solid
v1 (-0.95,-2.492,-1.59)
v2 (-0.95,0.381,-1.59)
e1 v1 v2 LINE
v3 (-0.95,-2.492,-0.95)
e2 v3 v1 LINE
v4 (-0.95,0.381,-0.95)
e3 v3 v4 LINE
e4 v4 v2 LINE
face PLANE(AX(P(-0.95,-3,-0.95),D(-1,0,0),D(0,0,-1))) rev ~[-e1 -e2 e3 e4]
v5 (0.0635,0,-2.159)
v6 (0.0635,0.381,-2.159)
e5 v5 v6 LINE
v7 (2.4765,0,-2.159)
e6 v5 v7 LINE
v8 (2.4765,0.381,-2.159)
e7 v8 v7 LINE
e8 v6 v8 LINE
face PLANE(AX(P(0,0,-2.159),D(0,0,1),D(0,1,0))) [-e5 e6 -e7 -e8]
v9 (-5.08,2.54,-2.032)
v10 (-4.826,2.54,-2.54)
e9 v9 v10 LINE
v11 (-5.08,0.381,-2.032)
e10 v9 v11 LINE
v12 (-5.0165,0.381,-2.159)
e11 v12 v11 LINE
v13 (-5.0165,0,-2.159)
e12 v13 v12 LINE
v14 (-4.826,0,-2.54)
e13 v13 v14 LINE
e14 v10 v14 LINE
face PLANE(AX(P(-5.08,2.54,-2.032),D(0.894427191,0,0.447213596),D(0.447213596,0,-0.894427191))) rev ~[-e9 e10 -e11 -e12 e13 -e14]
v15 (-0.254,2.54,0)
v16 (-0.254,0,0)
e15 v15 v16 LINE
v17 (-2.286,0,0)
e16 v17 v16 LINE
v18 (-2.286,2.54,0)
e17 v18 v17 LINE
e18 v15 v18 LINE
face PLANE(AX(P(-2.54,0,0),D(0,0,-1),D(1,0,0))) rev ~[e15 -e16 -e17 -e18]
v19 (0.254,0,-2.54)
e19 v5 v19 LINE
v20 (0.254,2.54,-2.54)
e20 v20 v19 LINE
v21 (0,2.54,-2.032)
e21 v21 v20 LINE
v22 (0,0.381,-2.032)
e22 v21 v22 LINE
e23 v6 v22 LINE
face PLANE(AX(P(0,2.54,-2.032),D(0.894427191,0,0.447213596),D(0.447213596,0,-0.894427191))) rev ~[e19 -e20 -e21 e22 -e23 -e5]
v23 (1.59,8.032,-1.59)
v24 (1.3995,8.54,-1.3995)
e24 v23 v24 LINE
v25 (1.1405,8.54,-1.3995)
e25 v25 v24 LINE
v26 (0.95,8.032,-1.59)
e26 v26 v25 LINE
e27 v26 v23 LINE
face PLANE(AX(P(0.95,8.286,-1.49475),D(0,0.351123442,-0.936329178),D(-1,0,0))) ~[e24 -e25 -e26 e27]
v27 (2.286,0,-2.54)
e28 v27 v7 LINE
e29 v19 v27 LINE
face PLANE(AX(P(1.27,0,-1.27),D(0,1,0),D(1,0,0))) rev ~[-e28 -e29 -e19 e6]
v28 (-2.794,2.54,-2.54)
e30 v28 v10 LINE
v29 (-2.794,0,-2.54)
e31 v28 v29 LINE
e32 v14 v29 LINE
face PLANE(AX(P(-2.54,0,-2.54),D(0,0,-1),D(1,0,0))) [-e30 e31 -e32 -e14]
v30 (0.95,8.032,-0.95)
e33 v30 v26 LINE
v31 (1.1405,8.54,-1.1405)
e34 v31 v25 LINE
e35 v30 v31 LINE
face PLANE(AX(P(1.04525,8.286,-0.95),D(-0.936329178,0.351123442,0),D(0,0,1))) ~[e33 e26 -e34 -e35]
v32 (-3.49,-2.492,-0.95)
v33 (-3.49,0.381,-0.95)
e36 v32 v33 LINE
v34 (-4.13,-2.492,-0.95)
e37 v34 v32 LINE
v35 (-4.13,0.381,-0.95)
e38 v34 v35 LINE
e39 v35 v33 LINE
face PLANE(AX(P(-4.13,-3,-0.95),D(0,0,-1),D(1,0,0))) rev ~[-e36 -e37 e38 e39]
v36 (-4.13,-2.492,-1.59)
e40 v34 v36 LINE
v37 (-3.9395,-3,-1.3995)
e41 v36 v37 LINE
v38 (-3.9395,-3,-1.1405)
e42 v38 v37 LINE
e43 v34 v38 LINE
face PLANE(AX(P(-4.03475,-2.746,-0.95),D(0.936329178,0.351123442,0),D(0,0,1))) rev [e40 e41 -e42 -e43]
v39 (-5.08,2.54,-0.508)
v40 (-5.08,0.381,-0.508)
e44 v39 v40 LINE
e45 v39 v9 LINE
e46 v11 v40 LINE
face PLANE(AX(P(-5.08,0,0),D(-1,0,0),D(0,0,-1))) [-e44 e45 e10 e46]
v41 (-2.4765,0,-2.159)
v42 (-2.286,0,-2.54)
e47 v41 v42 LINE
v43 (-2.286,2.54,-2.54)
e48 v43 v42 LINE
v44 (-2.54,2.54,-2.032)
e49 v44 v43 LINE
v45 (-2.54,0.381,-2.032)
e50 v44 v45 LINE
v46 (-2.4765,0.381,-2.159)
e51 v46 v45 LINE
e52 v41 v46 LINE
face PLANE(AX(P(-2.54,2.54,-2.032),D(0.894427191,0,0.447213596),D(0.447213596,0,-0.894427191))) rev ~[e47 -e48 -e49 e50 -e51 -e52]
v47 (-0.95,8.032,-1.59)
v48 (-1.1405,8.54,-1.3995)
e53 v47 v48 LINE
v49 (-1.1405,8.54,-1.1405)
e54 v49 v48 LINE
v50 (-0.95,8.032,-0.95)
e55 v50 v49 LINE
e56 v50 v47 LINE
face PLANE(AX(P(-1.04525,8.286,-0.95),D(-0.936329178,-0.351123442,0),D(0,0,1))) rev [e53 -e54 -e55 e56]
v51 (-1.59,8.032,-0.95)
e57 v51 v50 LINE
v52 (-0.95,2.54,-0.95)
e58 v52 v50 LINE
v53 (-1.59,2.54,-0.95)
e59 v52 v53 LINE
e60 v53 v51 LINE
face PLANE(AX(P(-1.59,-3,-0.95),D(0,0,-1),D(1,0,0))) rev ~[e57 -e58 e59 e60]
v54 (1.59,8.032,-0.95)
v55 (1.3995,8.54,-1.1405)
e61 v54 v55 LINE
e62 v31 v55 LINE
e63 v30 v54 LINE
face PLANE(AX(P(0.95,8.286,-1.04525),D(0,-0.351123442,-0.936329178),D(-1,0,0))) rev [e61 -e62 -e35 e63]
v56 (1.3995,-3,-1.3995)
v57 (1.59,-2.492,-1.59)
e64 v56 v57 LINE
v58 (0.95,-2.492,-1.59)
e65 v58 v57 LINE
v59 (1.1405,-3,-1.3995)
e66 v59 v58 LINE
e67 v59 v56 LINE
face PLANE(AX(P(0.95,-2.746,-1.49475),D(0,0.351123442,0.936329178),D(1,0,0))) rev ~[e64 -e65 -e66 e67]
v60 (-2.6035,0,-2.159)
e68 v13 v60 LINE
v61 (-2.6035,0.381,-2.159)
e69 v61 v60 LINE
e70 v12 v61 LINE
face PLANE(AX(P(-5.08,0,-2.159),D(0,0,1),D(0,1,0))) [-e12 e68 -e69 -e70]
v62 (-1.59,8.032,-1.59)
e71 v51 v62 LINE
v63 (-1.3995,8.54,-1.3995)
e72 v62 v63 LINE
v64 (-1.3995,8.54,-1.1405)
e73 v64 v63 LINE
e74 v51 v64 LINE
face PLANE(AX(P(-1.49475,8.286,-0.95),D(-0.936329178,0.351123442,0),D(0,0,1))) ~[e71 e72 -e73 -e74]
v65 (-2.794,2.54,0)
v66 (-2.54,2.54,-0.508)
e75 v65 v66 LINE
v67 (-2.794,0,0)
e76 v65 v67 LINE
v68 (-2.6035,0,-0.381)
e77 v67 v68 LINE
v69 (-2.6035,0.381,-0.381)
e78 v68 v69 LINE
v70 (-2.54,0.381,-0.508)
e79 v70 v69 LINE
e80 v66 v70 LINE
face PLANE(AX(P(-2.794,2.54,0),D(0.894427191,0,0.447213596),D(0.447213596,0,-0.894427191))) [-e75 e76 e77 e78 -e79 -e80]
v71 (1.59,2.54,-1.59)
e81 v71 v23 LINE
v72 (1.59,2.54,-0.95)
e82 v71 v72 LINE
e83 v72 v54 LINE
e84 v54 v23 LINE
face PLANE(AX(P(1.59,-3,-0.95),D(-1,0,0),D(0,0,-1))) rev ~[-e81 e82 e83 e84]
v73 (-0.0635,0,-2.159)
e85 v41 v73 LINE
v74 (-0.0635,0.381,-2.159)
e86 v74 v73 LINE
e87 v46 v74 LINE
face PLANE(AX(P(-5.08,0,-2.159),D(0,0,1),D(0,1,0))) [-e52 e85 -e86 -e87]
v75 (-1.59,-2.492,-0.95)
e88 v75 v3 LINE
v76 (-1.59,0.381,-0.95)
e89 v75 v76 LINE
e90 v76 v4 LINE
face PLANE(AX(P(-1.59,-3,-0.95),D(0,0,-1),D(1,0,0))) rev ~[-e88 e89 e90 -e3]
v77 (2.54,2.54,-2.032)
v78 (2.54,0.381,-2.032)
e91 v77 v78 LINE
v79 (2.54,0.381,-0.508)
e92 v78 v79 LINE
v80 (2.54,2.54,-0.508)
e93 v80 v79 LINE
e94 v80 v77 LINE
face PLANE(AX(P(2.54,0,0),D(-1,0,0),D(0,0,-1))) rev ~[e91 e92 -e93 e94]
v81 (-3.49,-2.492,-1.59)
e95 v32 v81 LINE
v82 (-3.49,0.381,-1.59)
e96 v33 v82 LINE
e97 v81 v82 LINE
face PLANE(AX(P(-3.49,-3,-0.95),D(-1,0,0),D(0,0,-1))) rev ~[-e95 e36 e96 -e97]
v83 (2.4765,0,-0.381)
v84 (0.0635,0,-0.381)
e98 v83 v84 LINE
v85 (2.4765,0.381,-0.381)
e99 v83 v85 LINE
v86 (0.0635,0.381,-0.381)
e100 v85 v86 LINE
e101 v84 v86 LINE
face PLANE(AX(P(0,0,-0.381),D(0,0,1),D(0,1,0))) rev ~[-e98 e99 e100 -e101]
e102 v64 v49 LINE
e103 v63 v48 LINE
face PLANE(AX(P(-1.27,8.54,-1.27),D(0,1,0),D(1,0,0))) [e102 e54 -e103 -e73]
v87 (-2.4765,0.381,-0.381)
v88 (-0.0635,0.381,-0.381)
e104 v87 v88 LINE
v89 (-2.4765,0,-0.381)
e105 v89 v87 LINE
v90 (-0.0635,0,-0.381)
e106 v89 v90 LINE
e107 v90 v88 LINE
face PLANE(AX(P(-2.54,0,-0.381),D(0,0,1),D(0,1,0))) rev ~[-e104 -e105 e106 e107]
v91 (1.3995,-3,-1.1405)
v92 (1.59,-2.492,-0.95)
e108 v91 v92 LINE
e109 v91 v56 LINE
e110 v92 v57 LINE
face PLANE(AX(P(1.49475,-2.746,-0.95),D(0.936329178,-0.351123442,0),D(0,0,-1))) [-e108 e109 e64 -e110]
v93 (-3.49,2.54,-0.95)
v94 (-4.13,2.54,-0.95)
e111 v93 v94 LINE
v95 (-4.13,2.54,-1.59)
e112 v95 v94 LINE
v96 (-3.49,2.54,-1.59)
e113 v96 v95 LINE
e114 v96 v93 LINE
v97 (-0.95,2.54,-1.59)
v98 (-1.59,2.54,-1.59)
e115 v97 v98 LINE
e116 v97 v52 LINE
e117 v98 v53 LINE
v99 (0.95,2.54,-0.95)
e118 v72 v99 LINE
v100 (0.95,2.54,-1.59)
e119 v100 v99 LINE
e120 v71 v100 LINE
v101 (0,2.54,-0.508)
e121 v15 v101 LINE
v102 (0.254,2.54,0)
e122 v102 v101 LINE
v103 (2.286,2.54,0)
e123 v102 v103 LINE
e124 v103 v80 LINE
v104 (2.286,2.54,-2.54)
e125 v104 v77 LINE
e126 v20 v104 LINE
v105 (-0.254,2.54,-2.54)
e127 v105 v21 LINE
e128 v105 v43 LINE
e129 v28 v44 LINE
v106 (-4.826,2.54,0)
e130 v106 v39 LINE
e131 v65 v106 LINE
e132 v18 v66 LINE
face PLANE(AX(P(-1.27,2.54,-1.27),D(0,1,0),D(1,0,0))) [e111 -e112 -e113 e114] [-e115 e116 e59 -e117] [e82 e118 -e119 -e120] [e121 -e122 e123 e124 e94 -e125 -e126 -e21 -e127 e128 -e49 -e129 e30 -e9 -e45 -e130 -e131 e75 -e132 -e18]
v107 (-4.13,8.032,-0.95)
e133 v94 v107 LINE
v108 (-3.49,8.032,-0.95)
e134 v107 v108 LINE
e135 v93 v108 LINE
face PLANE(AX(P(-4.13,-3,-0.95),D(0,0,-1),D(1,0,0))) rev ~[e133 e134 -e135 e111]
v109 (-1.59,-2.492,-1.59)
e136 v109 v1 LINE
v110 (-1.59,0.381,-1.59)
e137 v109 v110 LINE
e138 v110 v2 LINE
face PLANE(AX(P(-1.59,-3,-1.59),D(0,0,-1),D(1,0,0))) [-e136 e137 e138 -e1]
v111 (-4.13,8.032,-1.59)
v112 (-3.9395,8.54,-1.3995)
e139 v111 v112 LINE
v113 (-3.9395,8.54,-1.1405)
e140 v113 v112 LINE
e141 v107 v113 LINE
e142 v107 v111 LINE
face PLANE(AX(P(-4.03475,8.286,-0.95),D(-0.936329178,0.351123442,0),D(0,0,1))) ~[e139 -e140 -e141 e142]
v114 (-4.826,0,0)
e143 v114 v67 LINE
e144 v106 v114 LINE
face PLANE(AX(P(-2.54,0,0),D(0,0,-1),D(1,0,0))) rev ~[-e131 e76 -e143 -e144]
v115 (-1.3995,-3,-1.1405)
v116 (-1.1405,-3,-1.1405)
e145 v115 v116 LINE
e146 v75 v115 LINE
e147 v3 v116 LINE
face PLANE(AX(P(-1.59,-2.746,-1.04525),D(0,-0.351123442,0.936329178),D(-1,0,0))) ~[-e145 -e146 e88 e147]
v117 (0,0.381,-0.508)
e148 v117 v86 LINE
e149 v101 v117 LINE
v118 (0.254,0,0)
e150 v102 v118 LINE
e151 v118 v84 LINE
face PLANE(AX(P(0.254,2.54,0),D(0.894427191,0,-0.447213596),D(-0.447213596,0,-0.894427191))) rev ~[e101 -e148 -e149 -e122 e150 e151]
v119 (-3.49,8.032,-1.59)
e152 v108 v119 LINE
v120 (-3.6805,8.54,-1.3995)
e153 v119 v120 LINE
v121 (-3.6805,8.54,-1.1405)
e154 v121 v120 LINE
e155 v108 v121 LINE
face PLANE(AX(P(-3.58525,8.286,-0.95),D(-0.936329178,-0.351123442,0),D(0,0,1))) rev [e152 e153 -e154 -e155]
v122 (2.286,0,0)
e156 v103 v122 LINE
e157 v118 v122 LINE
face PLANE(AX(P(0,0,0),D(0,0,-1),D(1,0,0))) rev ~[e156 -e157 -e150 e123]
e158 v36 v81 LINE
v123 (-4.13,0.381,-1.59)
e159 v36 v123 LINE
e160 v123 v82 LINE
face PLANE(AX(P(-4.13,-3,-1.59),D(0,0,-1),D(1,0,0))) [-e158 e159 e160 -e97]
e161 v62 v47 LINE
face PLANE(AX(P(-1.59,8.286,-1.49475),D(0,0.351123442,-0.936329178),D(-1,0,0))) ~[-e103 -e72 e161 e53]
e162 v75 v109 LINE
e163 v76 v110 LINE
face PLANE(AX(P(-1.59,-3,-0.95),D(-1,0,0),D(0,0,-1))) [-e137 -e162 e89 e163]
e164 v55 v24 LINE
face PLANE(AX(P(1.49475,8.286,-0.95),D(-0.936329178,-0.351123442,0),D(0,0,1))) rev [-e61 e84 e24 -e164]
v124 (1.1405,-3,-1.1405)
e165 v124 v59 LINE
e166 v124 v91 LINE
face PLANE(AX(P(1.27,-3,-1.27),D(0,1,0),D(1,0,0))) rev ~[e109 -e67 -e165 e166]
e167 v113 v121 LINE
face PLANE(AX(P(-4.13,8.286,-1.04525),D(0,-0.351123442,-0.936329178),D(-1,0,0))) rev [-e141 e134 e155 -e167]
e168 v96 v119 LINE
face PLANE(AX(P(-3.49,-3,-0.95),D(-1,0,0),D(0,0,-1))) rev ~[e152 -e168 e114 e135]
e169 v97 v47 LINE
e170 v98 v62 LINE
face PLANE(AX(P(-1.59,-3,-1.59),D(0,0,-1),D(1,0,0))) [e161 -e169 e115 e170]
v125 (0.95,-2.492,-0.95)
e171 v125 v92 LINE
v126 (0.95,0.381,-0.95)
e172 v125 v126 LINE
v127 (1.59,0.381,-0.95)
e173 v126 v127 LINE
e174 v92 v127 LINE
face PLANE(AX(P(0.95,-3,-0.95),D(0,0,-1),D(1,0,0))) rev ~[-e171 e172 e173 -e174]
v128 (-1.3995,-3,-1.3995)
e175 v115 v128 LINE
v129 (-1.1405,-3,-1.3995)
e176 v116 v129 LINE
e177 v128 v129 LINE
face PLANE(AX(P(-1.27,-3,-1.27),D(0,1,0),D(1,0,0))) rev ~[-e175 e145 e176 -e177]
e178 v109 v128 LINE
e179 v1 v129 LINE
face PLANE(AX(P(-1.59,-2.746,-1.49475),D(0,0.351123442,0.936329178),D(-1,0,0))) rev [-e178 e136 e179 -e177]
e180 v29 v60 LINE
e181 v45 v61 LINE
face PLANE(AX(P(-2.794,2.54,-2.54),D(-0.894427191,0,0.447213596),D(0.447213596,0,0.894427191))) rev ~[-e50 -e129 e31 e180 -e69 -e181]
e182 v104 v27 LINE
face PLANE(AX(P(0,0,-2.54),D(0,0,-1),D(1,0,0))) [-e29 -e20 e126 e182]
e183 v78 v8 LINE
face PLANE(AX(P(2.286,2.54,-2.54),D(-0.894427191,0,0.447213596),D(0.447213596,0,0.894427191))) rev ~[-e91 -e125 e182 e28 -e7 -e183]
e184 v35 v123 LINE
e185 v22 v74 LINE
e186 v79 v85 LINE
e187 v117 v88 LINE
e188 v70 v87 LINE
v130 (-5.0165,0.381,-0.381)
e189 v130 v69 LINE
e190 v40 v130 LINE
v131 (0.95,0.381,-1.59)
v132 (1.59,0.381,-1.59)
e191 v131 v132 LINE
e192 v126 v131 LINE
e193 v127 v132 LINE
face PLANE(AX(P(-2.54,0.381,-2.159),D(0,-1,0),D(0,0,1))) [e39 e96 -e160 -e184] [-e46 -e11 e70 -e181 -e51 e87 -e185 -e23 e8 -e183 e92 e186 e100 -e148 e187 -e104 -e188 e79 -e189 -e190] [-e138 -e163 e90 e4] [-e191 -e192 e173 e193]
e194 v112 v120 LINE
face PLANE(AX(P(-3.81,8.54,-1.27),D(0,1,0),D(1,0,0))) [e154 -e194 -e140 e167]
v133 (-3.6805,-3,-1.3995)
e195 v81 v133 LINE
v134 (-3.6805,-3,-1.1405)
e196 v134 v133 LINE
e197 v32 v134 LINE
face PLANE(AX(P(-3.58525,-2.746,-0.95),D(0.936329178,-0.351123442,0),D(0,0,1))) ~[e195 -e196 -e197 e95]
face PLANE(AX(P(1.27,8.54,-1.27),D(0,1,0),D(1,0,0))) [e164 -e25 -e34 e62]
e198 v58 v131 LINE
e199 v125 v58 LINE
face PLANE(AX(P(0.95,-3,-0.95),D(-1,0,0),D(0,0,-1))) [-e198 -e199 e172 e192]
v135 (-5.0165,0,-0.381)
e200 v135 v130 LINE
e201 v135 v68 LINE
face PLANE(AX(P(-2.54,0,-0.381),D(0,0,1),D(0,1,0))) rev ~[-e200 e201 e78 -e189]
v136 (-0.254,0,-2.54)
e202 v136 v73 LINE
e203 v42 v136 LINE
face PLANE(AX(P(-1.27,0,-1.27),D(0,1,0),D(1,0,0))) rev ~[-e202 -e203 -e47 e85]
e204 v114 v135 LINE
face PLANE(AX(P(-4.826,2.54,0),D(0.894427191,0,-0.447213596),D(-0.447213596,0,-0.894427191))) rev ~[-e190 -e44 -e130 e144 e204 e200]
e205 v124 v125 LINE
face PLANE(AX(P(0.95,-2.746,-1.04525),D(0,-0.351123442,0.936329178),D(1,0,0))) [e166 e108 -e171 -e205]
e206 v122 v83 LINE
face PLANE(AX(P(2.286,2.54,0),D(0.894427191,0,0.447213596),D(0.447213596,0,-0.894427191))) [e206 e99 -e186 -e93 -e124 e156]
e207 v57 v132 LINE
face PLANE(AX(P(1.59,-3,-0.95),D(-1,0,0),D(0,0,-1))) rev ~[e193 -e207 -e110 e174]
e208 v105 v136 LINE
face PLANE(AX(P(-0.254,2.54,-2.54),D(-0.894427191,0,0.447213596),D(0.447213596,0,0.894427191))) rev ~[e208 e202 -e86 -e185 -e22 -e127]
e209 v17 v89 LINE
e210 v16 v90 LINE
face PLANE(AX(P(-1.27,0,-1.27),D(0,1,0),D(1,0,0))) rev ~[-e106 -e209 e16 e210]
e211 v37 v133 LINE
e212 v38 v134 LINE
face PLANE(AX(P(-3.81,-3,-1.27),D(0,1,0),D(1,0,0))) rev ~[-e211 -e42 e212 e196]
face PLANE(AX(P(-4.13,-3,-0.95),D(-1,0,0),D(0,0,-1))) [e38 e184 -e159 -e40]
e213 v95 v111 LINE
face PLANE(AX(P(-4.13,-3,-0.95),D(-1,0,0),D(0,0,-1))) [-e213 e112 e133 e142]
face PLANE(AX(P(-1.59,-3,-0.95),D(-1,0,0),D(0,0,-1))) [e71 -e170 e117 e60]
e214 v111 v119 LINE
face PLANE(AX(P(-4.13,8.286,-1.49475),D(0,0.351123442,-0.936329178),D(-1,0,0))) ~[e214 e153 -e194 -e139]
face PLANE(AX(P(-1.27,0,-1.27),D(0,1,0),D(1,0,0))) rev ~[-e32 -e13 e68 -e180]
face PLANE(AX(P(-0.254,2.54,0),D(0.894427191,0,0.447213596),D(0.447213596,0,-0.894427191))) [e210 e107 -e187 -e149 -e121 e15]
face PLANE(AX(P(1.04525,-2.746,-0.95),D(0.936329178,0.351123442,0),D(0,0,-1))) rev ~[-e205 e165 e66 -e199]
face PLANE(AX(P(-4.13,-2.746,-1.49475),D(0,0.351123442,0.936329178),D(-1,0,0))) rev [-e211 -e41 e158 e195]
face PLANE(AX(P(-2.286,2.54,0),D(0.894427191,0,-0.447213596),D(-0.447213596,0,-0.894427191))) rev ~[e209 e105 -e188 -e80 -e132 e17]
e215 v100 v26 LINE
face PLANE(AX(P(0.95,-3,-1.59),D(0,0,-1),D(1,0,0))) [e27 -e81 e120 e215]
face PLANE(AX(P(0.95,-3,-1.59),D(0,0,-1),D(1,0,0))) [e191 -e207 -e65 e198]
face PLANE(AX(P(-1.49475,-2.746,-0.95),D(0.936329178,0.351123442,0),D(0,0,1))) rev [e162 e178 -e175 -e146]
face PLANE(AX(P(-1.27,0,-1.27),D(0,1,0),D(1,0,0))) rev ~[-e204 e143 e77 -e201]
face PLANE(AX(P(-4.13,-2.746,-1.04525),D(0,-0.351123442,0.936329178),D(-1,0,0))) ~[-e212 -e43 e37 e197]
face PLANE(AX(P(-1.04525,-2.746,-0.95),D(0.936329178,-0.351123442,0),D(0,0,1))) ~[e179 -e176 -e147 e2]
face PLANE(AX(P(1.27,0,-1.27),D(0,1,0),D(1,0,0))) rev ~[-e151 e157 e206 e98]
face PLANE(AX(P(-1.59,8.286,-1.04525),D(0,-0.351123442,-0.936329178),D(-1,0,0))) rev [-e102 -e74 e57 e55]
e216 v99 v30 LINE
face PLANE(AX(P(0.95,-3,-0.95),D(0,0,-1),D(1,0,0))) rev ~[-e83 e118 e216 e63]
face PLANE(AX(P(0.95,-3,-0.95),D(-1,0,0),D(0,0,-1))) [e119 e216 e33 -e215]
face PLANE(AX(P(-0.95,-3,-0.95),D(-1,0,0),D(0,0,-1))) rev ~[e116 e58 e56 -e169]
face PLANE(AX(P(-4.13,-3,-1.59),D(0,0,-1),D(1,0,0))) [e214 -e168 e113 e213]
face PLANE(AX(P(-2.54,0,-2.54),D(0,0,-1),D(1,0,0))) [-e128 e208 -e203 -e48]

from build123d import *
from OCP.BRepFilletAPI import BRepFilletAPI_MakeChamfer

# Parameters (mm, degrees)
SKETCH1_W                     = 2.54
SKETCH1_H                     = 2.54
MAIN_BODY_DEPTH               = 2.54
SKETCH3_W                     = 1.778
SKETCH3_H                     = 0.381
CUT_EXTRUDE1_DEPTH            = 5.399409051
CUT_EXTRUDE2_DEPTH            = 5.399409051
BODY_PATTERN_COUNT            = 3
BODY_PATTERN_PITCH            = 2.54
PIN_START                     = -5.54
SKETCH2_W                     = 0.64
SKETCH2_H                     = 0.64
PIN_DEPTH                     = 11.54
CHAMFER1_SIZE                 = 0.508
CHAMFER1_SIZE2                = 0.1905
CHAMFER2_SIZE                 = 0.1905
CHAMFER2_SIZE2                = 0.508
PIN_PATTERN_COUNT             = 3
PIN_PATTERN_PITCH             = 2.54
CHAMFER1_OF_PIN_PATTERN_SIZE  = 0.508
CHAMFER1_OF_PIN_PATTERN_SIZE2 = 0.1905
CHAMFER2_OF_PIN_PATTERN_SIZE2 = 0.1905
CHAMFER2_OF_PIN_PATTERN_SIZE  = 0.508


with BuildPart() as part:
    # Sketch1 → Main Body (new body)
    with BuildSketch(Plane(origin=(0, 0, 0), x_dir=(1, 0, 0), z_dir=(0, 1, 0))):
        with Locations((1.27, 1.27)):
            Rectangle(SKETCH1_W, SKETCH1_H)
    main_body = extrude(amount=MAIN_BODY_DEPTH)

    # Sketch3 → Cut-Extrude1 (cut, through all)
    with BuildSketch(Plane.ZY):
        with Locations((-1.27, 0.1905)):
            Rectangle(SKETCH3_W, SKETCH3_H)
    cut_extrude1 = extrude(amount=-CUT_EXTRUDE1_DEPTH, mode=Mode.SUBTRACT)

    # Sketch4 → Cut-Extrude2 (cut, through all)
    with BuildSketch(Plane(origin=(0, 2.54, 0), x_dir=(1, 0, 0), z_dir=(0, 1, 0))):
        Polygon((0.254, 2.54), (0, 2.54), (0, 2.032), align=None)
        Polygon((2.54, 2.54), (2.286, 2.54), (2.54, 2.032), align=None)
        Polygon((0.254, 0), (0, 0.508), (0, 0), align=None)
        Polygon((2.54, 0), (2.286, 0), (2.54, 0.508), align=None)
    cut_extrude2 = extrude(amount=-CUT_EXTRUDE2_DEPTH, mode=Mode.SUBTRACT)

    # Body Pattern: Main Body, Cut-Extrude1, Cut-Extrude2 ×3
    with Locations(*[(-i * BODY_PATTERN_PITCH, 0, 0) for i in range(1, BODY_PATTERN_COUNT)]):
        add(main_body)
        add(cut_extrude1, mode=Mode.SUBTRACT)
        add(cut_extrude2, mode=Mode.SUBTRACT)

    # Sketch2 → Pin (add)
    with BuildSketch(Plane(origin=(0, 2.54, 0), x_dir=(1, 0, 0), z_dir=(0, 1, 0)).offset(PIN_START)):
        with Locations((1.27, 1.27)):
            Rectangle(SKETCH2_W, SKETCH2_H)
    pin = extrude(amount=PIN_DEPTH)

    # Chamfer1: one chamfer whose edges measure the first distance from different faces: ONE call of the kernel's chamfer builder (chamfer() names one face for all edges)
    chamfer1_edges_1 = [part.edges().sort_by_distance(p)[0] for p in [
        (0.95, 8.54, -1.27),
    ]]
    chamfer1_side_1 = [part.faces().sort_by_distance(p)[0] for p in [
        (0.95, 5.54, -1.27),
    ]]
    chamfer1_edges_2 = [part.edges().sort_by_distance(p)[0] for p in [
        (1.27, 8.54, -0.95),
    ]]
    chamfer1_side_2 = [part.faces().sort_by_distance(p)[0] for p in [
        (1.27, 5.54, -0.95),
    ]]
    chamfer1_edges_3 = [part.edges().sort_by_distance(p)[0] for p in [
        (1.59, 8.54, -1.27),
    ]]
    chamfer1_side_3 = [part.faces().sort_by_distance(p)[0] for p in [
        (1.59, 5.54, -1.27),
    ]]
    chamfer1_edges_4 = [part.edges().sort_by_distance(p)[0] for p in [
        (1.27, 8.54, -1.59),
    ]]
    chamfer1_side_4 = [part.faces().sort_by_distance(p)[0] for p in [
        (1.27, 5.54, -1.59),
    ]]
    chamfer1 = BRepFilletAPI_MakeChamfer(part.part.solid().wrapped)
    for e in chamfer1_edges_1:
        chamfer1.Add(CHAMFER1_SIZE, CHAMFER1_SIZE2, e.wrapped, chamfer1_side_1[0].wrapped)  # the first distance lies on this face
    for e in chamfer1_edges_2:
        chamfer1.Add(CHAMFER1_SIZE, CHAMFER1_SIZE2, e.wrapped, chamfer1_side_2[0].wrapped)  # the first distance lies on this face
    for e in chamfer1_edges_3:
        chamfer1.Add(CHAMFER1_SIZE, CHAMFER1_SIZE2, e.wrapped, chamfer1_side_3[0].wrapped)  # the first distance lies on this face
    for e in chamfer1_edges_4:
        chamfer1.Add(CHAMFER1_SIZE, CHAMFER1_SIZE2, e.wrapped, chamfer1_side_4[0].wrapped)  # the first distance lies on this face
    add(Compound.cast(chamfer1.Shape()), mode=Mode.REPLACE)

    # Chamfer2
    chamfer2_edges = [part.edges().sort_by_distance(p)[0] for p in [
        (1.27, -3, -0.95),
        (1.59, -3, -1.27),
        (1.27, -3, -1.59),
        (0.95, -3, -1.27),
    ]]
    chamfer2_side = [part.faces().sort_by_distance(p)[0] for p in [
        (1.27, -3, -1.27),
    ]]
    chamfer(chamfer2_edges, length=CHAMFER2_SIZE, length2=CHAMFER2_SIZE2, reference=chamfer2_side[0])

    # Pin Pattern: Pin ×3
    with Locations(*[(-i * PIN_PATTERN_PITCH, 0, 0) for i in range(1, PIN_PATTERN_COUNT)]):
        add(pin)

    # Chamfer1 of Pin Pattern: one chamfer whose edges measure the first distance from different faces: ONE call of the kernel's chamfer builder (chamfer() names one face for all edges)
    chamfer1_of_pin_pattern_edges_1 = [part.edges().sort_by_distance(p)[0] for p in [
        (-1.59, 8.54, -1.27),
    ]]
    chamfer1_of_pin_pattern_side_1 = [part.faces().sort_by_distance(p)[0] for p in [
        (-1.59, 5.54, -1.27),
    ]]
    chamfer1_of_pin_pattern_edges_2 = [part.edges().sort_by_distance(p)[0] for p in [
        (-1.27, 8.54, -0.95),
    ]]
    chamfer1_of_pin_pattern_side_2 = [part.faces().sort_by_distance(p)[0] for p in [
        (-1.27, 5.54, -0.95),
    ]]
    chamfer1_of_pin_pattern_edges_3 = [part.edges().sort_by_distance(p)[0] for p in [
        (-0.95, 8.54, -1.27),
    ]]
    chamfer1_of_pin_pattern_side_3 = [part.faces().sort_by_distance(p)[0] for p in [
        (-0.95, 5.54, -1.27),
    ]]
    chamfer1_of_pin_pattern_edges_4 = [part.edges().sort_by_distance(p)[0] for p in [
        (-1.27, 8.54, -1.59),
    ]]
    chamfer1_of_pin_pattern_side_4 = [part.faces().sort_by_distance(p)[0] for p in [
        (-1.27, 5.54, -1.59),
    ]]
    chamfer1_of_pin_pattern_edges_5 = [part.edges().sort_by_distance(p)[0] for p in [
        (-4.13, 8.54, -1.27),
    ]]
    chamfer1_of_pin_pattern_side_5 = [part.faces().sort_by_distance(p)[0] for p in [
        (-4.13, 5.54, -1.27),
    ]]
    chamfer1_of_pin_pattern_edges_6 = [part.edges().sort_by_distance(p)[0] for p in [
        (-3.81, 8.54, -0.95),
    ]]
    chamfer1_of_pin_pattern_side_6 = [part.faces().sort_by_distance(p)[0] for p in [
        (-3.81, 5.54, -0.95),
    ]]
    chamfer1_of_pin_pattern_edges_7 = [part.edges().sort_by_distance(p)[0] for p in [
        (-3.49, 8.54, -1.27),
    ]]
    chamfer1_of_pin_pattern_side_7 = [part.faces().sort_by_distance(p)[0] for p in [
        (-3.49, 5.54, -1.27),
    ]]
    chamfer1_of_pin_pattern_edges_8 = [part.edges().sort_by_distance(p)[0] for p in [
        (-3.81, 8.54, -1.59),
    ]]
    chamfer1_of_pin_pattern_side_8 = [part.faces().sort_by_distance(p)[0] for p in [
        (-3.81, 5.54, -1.59),
    ]]
    chamfer1_of_pin_pattern = BRepFilletAPI_MakeChamfer(part.part.solid().wrapped)
    for e in chamfer1_of_pin_pattern_edges_1:
        chamfer1_of_pin_pattern.Add(CHAMFER1_OF_PIN_PATTERN_SIZE, CHAMFER1_OF_PIN_PATTERN_SIZE2, e.wrapped, chamfer1_of_pin_pattern_side_1[0].wrapped)  # the first distance lies on this face
    for e in chamfer1_of_pin_pattern_edges_2:
        chamfer1_of_pin_pattern.Add(CHAMFER1_OF_PIN_PATTERN_SIZE, CHAMFER1_OF_PIN_PATTERN_SIZE2, e.wrapped, chamfer1_of_pin_pattern_side_2[0].wrapped)  # the first distance lies on this face
    for e in chamfer1_of_pin_pattern_edges_3:
        chamfer1_of_pin_pattern.Add(CHAMFER1_OF_PIN_PATTERN_SIZE, CHAMFER1_OF_PIN_PATTERN_SIZE2, e.wrapped, chamfer1_of_pin_pattern_side_3[0].wrapped)  # the first distance lies on this face
    for e in chamfer1_of_pin_pattern_edges_4:
        chamfer1_of_pin_pattern.Add(CHAMFER1_OF_PIN_PATTERN_SIZE, CHAMFER1_OF_PIN_PATTERN_SIZE2, e.wrapped, chamfer1_of_pin_pattern_side_4[0].wrapped)  # the first distance lies on this face
    for e in chamfer1_of_pin_pattern_edges_5:
        chamfer1_of_pin_pattern.Add(CHAMFER1_OF_PIN_PATTERN_SIZE, CHAMFER1_OF_PIN_PATTERN_SIZE2, e.wrapped, chamfer1_of_pin_pattern_side_5[0].wrapped)  # the first distance lies on this face
    for e in chamfer1_of_pin_pattern_edges_6:
        chamfer1_of_pin_pattern.Add(CHAMFER1_OF_PIN_PATTERN_SIZE, CHAMFER1_OF_PIN_PATTERN_SIZE2, e.wrapped, chamfer1_of_pin_pattern_side_6[0].wrapped)  # the first distance lies on this face
    for e in chamfer1_of_pin_pattern_edges_7:
        chamfer1_of_pin_pattern.Add(CHAMFER1_OF_PIN_PATTERN_SIZE, CHAMFER1_OF_PIN_PATTERN_SIZE2, e.wrapped, chamfer1_of_pin_pattern_side_7[0].wrapped)  # the first distance lies on this face
    for e in chamfer1_of_pin_pattern_edges_8:
        chamfer1_of_pin_pattern.Add(CHAMFER1_OF_PIN_PATTERN_SIZE, CHAMFER1_OF_PIN_PATTERN_SIZE2, e.wrapped, chamfer1_of_pin_pattern_side_8[0].wrapped)  # the first distance lies on this face
    add(Compound.cast(chamfer1_of_pin_pattern.Shape()), mode=Mode.REPLACE)

    # Chamfer2 of Pin Pattern
    chamfer2_of_pin_pattern_edges = [part.edges().sort_by_distance(p)[0] for p in [
        (-1.27, -3, -0.95),
        (-0.95, -3, -1.27),
        (-1.27, -3, -1.59),
        (-1.59, -3, -1.27),
        (-3.81, -3, -0.95),
        (-3.49, -3, -1.27),
        (-3.81, -3, -1.59),
        (-4.13, -3, -1.27),
    ]]
    chamfer(chamfer2_of_pin_pattern_edges, length=CHAMFER2_OF_PIN_PATTERN_SIZE, length2=CHAMFER2_OF_PIN_PATTERN_SIZE2)


solid = part.part
